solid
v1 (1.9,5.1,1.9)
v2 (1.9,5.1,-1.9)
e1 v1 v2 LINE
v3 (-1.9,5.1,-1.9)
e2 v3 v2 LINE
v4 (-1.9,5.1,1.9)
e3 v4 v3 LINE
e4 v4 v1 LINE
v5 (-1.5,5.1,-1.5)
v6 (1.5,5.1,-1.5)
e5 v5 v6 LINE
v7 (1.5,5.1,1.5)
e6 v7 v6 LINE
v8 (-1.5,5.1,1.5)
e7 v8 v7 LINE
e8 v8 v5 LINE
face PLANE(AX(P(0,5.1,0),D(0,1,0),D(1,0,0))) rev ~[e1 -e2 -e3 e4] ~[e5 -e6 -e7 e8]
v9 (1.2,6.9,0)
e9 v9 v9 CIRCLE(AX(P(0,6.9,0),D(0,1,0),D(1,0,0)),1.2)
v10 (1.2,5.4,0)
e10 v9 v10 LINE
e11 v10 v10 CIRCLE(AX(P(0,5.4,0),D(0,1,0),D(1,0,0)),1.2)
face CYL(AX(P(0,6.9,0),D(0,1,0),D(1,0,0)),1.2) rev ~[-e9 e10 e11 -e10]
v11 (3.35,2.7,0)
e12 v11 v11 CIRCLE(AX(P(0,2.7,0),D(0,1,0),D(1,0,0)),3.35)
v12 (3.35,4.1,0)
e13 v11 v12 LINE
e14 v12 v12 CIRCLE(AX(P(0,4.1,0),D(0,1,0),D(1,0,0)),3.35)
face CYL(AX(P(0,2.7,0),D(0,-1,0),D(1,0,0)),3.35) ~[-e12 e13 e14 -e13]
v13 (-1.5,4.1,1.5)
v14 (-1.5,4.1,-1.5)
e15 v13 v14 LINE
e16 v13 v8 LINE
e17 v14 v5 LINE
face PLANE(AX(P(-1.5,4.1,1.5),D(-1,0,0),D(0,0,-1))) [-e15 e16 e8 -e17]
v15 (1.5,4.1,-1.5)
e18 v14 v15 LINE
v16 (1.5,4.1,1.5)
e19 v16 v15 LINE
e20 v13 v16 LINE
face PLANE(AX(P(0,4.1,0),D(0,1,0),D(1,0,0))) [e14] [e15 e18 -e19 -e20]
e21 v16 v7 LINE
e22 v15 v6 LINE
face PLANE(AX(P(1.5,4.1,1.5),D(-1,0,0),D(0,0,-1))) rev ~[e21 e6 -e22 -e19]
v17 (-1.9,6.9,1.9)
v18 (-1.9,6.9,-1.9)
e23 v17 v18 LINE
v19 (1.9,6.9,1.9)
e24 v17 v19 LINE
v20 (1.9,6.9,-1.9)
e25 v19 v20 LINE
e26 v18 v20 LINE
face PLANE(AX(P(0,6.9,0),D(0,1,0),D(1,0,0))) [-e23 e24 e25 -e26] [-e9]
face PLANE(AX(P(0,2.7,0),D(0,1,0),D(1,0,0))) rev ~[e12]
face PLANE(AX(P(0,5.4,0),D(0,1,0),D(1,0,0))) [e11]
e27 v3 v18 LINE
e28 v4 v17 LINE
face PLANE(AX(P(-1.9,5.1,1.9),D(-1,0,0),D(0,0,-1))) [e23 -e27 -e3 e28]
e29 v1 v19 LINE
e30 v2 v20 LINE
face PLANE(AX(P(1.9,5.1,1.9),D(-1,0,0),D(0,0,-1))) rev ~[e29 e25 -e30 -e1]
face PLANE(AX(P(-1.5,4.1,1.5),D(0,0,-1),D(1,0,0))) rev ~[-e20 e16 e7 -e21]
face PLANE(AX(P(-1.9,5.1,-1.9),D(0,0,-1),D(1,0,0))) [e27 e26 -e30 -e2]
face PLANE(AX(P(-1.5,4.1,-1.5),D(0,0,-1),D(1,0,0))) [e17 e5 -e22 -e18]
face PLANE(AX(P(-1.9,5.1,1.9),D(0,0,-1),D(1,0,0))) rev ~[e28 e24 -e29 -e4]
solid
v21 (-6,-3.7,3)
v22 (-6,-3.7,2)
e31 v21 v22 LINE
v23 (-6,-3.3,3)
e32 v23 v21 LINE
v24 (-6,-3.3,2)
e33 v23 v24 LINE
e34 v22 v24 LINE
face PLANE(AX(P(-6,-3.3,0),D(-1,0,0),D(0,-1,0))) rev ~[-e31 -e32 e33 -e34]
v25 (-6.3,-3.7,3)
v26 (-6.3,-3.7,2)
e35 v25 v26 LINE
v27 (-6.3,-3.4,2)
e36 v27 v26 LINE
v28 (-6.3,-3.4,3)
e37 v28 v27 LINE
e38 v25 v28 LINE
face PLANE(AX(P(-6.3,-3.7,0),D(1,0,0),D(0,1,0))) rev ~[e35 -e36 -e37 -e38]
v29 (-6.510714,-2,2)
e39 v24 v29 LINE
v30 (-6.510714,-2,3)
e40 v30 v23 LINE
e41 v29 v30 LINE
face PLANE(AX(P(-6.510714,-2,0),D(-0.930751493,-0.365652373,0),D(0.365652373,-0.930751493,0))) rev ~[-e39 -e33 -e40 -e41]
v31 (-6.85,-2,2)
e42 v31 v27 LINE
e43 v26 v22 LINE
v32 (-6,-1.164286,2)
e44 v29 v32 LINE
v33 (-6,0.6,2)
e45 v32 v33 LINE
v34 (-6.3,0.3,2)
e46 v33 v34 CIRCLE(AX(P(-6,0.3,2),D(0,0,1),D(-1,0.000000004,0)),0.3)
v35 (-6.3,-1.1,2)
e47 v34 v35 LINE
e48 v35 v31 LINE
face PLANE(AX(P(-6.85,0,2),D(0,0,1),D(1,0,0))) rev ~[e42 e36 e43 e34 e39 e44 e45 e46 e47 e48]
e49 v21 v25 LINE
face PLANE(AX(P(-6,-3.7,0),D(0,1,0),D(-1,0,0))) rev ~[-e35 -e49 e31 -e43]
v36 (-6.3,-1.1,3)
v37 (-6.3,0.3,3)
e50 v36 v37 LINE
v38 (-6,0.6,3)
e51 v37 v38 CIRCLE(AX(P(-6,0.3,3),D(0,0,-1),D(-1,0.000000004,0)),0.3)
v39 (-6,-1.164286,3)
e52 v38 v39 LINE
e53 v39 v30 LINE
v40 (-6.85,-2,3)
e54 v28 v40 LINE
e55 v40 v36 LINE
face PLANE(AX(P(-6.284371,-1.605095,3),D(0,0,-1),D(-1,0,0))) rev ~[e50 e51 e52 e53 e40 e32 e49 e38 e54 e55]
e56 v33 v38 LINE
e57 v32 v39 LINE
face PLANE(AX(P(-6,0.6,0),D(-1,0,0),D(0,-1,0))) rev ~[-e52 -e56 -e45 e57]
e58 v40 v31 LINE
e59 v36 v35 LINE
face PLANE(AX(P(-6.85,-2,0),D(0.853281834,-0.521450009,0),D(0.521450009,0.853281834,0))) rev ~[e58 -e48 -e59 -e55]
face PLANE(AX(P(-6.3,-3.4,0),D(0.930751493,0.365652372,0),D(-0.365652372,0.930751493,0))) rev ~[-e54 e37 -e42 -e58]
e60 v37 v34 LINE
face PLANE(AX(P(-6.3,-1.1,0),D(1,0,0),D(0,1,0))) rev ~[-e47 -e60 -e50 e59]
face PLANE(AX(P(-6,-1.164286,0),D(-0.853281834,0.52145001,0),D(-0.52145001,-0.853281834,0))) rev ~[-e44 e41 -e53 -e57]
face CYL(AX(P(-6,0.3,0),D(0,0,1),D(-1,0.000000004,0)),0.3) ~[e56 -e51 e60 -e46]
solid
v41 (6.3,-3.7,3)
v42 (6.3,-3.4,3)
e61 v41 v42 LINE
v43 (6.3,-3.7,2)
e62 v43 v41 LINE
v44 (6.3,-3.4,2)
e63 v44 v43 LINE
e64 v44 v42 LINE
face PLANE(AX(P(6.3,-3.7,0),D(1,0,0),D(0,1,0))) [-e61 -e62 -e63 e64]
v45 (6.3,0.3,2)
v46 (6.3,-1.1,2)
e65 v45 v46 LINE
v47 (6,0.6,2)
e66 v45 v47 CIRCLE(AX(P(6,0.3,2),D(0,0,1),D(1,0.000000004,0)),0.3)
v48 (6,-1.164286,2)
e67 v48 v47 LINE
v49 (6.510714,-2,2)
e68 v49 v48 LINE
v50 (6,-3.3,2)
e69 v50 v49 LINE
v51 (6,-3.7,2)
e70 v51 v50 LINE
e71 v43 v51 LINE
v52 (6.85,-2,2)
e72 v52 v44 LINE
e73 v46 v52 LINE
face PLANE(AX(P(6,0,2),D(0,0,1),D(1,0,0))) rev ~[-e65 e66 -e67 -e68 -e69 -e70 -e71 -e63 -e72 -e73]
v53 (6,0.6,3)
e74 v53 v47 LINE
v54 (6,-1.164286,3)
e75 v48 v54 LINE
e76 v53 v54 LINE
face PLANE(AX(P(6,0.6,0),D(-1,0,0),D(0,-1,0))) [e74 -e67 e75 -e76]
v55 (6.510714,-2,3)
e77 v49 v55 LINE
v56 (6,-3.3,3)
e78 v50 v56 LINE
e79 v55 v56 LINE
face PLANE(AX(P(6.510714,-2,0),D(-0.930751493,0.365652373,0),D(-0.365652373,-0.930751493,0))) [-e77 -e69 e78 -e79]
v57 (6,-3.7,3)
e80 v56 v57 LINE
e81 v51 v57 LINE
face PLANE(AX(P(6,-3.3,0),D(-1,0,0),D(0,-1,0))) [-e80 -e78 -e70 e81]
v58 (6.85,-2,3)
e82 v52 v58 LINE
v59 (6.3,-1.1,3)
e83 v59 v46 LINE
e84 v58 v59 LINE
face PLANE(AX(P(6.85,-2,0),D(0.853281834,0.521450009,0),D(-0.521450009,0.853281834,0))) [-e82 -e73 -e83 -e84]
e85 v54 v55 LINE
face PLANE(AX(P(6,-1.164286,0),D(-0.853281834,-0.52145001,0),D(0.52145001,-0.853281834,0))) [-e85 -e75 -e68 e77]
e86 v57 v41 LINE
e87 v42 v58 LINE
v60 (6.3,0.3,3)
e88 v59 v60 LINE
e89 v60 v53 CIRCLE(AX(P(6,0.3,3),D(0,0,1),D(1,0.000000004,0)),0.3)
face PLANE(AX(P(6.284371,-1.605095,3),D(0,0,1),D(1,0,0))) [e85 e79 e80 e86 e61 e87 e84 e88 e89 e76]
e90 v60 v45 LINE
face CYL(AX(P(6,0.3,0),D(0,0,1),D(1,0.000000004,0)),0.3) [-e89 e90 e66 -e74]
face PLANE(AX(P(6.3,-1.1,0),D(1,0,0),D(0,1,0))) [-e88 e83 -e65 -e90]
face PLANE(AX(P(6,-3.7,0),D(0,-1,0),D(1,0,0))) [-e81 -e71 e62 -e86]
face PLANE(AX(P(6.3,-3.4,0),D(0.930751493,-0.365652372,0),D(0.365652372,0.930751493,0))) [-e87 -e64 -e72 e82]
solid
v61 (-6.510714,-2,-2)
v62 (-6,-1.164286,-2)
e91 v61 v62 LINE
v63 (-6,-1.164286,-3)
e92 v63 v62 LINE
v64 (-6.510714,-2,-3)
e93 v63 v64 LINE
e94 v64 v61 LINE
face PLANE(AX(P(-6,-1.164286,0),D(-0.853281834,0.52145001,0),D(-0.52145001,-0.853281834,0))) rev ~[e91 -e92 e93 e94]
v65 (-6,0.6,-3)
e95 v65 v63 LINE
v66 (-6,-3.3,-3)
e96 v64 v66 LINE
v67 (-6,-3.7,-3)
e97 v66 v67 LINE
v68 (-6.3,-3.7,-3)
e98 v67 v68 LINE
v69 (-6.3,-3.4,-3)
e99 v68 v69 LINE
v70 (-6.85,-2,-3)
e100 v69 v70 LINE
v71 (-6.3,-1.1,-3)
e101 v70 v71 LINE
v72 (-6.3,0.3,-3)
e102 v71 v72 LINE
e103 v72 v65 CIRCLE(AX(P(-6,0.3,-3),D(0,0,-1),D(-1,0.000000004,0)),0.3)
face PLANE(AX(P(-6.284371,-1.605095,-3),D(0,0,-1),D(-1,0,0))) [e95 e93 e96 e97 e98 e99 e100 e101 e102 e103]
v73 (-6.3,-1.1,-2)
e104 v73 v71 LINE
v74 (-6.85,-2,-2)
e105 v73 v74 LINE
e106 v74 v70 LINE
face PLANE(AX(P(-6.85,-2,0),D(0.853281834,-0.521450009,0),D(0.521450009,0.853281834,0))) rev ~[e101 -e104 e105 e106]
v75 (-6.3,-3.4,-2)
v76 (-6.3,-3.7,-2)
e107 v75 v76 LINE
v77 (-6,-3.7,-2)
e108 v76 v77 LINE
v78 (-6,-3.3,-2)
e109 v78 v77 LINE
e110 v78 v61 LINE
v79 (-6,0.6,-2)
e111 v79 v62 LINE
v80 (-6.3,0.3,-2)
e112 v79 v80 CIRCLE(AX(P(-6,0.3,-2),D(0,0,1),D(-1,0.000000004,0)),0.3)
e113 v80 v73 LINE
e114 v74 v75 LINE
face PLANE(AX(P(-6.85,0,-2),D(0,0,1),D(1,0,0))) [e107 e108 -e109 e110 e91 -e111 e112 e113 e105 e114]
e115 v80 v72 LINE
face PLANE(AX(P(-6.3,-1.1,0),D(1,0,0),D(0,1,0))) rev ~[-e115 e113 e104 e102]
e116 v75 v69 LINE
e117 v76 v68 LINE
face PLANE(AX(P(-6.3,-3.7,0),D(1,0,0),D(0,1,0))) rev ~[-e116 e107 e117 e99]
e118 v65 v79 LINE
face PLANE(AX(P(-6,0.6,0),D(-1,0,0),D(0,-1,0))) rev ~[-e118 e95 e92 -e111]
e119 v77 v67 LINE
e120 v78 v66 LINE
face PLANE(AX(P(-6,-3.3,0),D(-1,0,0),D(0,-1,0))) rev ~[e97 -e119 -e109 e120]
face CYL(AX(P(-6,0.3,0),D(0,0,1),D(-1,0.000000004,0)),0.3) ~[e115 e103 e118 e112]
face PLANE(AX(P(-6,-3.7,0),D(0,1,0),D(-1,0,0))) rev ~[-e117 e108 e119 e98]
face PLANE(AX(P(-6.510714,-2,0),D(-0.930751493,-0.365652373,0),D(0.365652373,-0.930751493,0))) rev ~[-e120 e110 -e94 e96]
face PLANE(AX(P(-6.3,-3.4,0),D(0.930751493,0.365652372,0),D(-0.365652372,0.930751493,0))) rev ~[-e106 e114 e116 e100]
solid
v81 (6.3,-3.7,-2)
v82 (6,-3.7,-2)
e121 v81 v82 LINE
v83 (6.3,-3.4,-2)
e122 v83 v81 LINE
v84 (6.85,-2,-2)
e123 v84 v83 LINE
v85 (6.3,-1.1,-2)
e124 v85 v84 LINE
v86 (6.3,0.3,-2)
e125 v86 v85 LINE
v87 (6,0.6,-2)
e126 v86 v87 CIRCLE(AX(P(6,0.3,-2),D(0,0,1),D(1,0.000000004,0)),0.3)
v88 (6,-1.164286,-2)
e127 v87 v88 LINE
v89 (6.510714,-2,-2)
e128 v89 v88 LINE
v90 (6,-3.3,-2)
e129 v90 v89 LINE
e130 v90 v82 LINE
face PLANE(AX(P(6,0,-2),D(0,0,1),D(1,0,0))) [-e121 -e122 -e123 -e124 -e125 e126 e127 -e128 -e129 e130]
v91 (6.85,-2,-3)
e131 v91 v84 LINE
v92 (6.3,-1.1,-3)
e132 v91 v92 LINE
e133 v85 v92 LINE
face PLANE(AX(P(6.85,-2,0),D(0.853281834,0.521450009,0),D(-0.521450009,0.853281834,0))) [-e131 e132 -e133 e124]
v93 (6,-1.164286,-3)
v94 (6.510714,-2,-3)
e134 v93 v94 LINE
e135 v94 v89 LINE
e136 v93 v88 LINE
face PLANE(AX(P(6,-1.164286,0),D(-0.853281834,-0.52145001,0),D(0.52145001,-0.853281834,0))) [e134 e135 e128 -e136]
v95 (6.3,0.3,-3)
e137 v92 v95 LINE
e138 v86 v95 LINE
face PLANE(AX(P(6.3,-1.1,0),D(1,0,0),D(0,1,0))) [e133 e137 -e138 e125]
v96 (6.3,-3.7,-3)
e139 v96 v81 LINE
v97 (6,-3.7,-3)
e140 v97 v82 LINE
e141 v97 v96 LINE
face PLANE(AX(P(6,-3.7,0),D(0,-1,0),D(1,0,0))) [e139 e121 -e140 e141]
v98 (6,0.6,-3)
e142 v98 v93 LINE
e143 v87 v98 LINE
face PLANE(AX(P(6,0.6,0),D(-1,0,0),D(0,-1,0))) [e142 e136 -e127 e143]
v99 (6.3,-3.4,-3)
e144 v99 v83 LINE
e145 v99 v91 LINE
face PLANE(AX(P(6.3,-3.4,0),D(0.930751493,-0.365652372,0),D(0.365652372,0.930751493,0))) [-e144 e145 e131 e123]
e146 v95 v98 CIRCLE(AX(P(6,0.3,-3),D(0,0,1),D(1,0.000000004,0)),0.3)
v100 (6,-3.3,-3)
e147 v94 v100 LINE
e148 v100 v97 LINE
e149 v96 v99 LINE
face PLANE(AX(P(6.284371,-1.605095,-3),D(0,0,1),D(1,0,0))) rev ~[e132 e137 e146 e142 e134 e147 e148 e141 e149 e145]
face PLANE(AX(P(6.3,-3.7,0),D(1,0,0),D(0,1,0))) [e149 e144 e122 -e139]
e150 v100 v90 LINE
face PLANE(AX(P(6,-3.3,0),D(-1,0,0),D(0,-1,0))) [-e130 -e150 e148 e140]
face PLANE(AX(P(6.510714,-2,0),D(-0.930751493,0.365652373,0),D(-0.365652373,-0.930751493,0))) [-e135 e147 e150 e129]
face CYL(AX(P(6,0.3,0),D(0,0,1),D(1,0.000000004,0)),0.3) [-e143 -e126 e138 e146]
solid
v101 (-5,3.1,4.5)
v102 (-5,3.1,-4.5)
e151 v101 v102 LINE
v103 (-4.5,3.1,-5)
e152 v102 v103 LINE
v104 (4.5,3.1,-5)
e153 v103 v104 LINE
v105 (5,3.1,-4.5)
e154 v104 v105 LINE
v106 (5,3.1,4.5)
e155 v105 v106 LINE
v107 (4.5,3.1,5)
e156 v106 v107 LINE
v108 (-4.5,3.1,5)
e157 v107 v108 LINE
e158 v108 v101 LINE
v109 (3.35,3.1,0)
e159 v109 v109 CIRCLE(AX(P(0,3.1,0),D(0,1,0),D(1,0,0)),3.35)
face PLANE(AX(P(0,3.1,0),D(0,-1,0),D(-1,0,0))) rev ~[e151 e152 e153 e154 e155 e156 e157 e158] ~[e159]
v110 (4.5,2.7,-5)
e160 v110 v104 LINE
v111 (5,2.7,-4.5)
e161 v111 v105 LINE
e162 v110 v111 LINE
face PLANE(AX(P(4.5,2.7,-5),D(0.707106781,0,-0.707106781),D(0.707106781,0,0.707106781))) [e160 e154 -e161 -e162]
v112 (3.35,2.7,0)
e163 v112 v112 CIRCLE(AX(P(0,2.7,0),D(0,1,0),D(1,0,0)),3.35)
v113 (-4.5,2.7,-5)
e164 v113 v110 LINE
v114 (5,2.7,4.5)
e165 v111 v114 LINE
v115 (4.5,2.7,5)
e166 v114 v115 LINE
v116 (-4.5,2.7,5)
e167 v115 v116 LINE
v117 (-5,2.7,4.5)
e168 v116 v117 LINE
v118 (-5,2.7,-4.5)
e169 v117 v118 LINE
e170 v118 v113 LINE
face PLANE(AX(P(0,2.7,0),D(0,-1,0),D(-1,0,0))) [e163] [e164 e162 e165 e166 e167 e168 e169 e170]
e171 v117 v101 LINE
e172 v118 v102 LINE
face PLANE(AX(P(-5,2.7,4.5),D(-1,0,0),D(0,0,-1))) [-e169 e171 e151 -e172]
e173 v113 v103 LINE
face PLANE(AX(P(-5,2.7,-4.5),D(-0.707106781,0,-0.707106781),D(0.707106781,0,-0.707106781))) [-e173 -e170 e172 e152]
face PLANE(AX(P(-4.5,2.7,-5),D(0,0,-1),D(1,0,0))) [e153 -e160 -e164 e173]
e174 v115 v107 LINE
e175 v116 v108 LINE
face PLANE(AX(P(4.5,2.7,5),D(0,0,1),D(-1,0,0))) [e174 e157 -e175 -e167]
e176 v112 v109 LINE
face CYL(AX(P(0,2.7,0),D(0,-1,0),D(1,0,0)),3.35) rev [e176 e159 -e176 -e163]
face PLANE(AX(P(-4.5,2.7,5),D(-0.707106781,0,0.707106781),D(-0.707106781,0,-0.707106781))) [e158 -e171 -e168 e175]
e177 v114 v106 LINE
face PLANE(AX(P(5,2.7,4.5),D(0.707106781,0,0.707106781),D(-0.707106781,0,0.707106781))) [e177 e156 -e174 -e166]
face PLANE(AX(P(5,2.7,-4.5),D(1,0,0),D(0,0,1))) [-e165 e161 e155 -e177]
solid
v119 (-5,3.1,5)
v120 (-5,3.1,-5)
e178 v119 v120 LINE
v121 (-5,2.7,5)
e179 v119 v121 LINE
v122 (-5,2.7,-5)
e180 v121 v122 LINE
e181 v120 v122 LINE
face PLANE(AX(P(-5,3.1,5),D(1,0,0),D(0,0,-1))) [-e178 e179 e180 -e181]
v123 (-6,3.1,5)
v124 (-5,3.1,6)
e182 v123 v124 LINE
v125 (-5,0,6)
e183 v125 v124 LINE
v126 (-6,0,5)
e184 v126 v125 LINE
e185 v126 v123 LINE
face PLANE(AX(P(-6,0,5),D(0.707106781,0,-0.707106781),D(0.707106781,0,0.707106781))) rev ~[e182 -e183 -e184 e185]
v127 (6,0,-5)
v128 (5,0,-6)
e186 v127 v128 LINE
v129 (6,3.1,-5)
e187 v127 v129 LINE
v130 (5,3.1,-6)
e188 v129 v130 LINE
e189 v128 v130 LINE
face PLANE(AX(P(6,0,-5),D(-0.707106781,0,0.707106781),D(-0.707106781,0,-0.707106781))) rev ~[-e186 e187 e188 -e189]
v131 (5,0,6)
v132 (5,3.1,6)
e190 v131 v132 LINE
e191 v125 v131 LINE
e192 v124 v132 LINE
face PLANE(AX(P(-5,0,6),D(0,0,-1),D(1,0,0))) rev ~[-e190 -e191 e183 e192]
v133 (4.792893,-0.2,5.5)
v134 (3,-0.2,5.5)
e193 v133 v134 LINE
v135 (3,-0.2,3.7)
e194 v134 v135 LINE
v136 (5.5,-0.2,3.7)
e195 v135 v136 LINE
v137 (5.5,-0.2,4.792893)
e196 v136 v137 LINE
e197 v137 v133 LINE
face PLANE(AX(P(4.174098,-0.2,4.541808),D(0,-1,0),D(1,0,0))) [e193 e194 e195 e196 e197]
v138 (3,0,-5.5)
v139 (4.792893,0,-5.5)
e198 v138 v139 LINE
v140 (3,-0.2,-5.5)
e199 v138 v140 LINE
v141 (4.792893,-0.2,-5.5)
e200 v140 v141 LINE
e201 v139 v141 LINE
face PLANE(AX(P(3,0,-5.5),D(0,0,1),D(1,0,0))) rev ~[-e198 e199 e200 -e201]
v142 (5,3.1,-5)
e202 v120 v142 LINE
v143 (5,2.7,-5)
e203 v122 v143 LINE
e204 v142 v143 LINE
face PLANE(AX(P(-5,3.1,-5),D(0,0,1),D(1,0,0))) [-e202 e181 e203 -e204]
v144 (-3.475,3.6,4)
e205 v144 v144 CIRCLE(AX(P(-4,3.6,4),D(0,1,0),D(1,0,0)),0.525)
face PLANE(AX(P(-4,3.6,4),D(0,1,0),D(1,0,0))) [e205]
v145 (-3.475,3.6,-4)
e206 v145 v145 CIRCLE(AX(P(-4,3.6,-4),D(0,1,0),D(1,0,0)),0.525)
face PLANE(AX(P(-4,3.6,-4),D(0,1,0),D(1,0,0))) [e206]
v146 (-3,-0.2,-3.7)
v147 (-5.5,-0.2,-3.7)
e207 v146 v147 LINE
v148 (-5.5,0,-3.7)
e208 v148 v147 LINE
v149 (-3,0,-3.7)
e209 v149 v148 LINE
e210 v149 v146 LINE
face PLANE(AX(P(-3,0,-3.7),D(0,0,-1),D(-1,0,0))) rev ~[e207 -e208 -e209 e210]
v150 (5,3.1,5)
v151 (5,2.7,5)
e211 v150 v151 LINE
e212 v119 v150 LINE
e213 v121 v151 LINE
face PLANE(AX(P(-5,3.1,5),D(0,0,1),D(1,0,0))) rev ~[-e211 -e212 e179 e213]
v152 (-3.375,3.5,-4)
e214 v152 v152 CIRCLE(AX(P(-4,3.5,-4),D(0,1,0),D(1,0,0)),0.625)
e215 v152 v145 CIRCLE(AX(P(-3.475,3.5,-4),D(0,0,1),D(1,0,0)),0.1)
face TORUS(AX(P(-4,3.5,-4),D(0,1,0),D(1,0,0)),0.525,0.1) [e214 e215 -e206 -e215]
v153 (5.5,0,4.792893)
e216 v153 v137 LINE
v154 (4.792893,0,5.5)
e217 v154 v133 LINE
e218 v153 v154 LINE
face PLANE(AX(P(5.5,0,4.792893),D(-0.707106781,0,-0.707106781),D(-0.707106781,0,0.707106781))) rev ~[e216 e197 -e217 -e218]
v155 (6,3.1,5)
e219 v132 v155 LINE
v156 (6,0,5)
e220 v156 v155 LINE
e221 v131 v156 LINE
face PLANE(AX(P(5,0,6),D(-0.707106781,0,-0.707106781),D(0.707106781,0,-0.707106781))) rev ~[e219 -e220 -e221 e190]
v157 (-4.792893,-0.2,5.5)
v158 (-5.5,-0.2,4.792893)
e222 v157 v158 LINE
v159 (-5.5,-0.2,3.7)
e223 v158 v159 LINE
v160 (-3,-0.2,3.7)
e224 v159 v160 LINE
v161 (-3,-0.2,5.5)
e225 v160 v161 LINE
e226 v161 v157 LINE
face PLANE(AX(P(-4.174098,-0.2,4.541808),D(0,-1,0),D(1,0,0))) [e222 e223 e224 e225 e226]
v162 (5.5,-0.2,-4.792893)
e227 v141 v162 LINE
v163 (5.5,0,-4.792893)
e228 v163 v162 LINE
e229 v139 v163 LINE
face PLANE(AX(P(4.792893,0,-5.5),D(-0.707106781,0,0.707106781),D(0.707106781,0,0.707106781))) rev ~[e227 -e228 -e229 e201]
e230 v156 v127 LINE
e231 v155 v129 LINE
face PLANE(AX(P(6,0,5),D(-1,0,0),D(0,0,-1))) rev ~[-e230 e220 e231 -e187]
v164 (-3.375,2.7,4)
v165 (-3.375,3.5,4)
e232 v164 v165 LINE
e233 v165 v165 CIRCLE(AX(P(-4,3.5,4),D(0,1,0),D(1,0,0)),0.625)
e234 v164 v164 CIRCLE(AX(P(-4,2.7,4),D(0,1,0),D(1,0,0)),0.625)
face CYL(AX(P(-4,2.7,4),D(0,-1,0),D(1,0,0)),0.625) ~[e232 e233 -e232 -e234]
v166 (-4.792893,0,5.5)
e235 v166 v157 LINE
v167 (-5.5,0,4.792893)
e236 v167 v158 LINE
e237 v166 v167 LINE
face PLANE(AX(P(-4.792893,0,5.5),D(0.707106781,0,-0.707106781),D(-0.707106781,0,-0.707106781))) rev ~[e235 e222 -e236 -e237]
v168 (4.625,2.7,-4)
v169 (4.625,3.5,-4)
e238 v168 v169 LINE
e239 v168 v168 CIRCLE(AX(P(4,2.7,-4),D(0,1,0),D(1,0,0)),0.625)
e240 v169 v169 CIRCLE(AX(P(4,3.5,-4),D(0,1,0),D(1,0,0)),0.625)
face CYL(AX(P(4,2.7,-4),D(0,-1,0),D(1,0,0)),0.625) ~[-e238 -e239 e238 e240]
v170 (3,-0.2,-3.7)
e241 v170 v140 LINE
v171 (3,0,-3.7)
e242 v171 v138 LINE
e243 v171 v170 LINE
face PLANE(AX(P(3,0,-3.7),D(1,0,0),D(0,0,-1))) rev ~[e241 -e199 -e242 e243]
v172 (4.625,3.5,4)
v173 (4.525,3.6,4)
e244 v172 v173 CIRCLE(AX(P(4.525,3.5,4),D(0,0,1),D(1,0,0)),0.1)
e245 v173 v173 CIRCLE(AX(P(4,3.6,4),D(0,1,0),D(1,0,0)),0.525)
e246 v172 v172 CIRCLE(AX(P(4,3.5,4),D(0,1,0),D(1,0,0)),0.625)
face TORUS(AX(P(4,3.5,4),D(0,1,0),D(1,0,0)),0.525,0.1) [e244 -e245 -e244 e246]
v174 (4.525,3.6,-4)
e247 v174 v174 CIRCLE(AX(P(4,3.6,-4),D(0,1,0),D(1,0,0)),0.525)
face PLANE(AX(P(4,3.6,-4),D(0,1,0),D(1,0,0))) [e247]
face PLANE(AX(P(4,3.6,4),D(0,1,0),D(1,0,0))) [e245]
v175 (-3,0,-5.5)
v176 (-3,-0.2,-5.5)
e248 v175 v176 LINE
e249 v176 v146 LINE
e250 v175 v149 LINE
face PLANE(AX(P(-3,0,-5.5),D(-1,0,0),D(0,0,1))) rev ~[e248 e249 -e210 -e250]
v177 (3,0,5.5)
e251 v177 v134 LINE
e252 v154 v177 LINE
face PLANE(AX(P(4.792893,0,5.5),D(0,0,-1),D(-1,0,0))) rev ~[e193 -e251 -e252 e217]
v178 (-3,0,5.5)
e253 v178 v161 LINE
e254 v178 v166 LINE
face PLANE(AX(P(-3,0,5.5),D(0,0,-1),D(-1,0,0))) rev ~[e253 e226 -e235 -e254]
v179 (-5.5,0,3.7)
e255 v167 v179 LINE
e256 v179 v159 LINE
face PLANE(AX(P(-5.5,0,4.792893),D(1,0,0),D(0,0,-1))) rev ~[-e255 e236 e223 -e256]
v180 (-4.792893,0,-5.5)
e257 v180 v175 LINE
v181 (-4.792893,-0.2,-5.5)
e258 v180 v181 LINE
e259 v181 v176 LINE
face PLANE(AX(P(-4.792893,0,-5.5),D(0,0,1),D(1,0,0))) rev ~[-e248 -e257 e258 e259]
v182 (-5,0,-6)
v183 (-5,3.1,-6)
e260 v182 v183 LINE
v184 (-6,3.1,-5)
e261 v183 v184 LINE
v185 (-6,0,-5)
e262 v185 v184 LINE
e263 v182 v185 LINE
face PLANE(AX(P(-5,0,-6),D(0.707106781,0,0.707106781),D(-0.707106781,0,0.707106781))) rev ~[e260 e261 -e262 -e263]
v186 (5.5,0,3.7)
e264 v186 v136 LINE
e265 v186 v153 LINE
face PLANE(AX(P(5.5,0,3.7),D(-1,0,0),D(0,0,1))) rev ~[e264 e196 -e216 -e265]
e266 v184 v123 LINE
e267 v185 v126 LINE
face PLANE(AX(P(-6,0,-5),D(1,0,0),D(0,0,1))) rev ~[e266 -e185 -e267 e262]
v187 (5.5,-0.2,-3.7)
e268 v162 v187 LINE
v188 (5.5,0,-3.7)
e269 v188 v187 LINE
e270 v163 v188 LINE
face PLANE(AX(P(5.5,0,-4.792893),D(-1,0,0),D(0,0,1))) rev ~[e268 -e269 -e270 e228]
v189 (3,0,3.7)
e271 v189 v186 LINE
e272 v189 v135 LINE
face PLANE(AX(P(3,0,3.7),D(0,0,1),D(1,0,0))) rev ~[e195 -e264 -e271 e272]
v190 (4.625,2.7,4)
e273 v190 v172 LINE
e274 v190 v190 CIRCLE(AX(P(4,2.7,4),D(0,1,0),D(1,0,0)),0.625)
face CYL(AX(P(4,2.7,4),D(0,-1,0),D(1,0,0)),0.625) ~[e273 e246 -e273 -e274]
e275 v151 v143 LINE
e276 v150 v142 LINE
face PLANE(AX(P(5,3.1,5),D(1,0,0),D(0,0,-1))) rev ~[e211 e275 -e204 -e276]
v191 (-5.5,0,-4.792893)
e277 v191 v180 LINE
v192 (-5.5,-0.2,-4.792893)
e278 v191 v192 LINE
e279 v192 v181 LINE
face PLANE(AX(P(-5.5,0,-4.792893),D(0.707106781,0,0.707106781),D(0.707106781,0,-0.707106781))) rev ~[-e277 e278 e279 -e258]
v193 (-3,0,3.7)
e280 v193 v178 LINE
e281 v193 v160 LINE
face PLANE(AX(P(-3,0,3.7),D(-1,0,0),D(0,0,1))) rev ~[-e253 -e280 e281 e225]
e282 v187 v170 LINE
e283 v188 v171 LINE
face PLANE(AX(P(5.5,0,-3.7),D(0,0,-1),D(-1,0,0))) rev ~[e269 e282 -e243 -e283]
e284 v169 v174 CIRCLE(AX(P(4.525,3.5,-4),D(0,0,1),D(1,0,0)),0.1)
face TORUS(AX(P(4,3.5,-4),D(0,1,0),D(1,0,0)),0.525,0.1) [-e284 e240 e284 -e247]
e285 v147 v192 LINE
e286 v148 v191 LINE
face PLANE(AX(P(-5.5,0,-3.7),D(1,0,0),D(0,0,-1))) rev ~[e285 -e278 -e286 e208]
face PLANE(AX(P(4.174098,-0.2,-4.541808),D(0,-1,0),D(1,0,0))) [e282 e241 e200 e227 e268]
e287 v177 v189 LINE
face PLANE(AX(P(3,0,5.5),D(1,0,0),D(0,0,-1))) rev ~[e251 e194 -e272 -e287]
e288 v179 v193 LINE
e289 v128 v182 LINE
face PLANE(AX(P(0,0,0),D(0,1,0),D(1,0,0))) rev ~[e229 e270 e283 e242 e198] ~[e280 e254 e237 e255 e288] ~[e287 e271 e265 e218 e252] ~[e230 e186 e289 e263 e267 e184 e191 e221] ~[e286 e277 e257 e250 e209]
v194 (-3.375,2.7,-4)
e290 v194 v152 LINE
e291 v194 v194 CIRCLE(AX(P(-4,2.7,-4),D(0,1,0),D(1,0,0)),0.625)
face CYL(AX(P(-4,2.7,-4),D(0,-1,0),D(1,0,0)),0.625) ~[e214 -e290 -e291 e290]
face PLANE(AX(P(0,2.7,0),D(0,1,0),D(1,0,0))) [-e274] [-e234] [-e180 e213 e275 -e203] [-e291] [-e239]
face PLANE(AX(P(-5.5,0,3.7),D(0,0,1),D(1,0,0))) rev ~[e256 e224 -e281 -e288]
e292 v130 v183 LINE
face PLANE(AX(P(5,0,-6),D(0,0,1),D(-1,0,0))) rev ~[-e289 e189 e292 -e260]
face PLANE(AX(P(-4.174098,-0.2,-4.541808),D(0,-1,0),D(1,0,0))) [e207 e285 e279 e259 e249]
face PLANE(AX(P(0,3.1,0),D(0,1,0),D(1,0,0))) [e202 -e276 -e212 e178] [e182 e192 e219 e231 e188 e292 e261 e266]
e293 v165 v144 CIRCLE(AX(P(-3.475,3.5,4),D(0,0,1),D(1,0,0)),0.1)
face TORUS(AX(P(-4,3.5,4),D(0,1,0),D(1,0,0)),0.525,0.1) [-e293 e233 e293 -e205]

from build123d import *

# Parameters (mm, degrees)
BOSS_EXTRUDE1_DEPTH        = 3.1
SKETCH2_W                  = 10
SKETCH2_H                  = 10
CUT_EXTRUDE1_DEPTH         = 0.4
SKETCH3_R                  = 0.625
BOSS_EXTRUDE2_DEPTH        = 0.9
FILLET1_R                  = 0.1
SKETCH4_R                  = 3.35
BOSS_EXTRUDE3_DEPTH        = 0.4
BOSS_EXTRUDE4_DEPTH        = 3
BOSS_EXTRUDE4_DEPTH_BACK   = 3
BOSS_EXTRUDE4_2_DEPTH      = 3
BOSS_EXTRUDE4_2_DEPTH_BACK = 3
SKETCH6_W                  = 0.85
SKETCH6_H                  = 4
CUT_EXTRUDE2_DEPTH         = 4.6
CUT_EXTRUDE2_DEPTH_BACK    = 4.7
SKETCH7_R                  = 3.35
BOSS_EXTRUDE5_DEPTH        = 1.4
SKETCH8_W                  = 3
SKETCH8_H                  = 3
BOSS_EXTRUDE6_DEPTH        = 1
SKETCH9_W                  = 3.8
SKETCH9_H                  = 3.8
BOSS_EXTRUDE7_DEPTH        = 1.8
SKETCH11_R                 = 1.2
CUT_EXTRUDE3_DEPTH         = 1.5
BOSS_EXTRUDE8_DEPTH        = 0.2


with BuildPart() as part:
    # Sketch1 → Boss-Extrude1 (new body)
    with BuildSketch(Plane(origin=(0, 0, 0), x_dir=(1, 0, 0), z_dir=(0, 1, 0))):
        Polygon((-5, 6), (-6, 5), (-6, -5), (-5, -6), (5, -6), (6, -5), (6, 5), (5, 6), align=None)
    extrude(amount=BOSS_EXTRUDE1_DEPTH)

    # Sketch2 → Cut-Extrude1 (cut)
    with BuildSketch(Plane(origin=(0, 3.1, 0), x_dir=(1, 0, 0), z_dir=(0, 1, 0))):
        Rectangle(SKETCH2_W, SKETCH2_H)
    extrude(amount=-CUT_EXTRUDE1_DEPTH, mode=Mode.SUBTRACT)

    # Sketch3 → Boss-Extrude2 (add)
    with BuildSketch(Plane(origin=(0, 2.7, 0), x_dir=(1, 0, 0), z_dir=(0, 1, 0))):
        with Locations((-4, 4)):
            Circle(SKETCH3_R)
        with Locations((4, 4)):
            Circle(SKETCH3_R)
        with Locations((-4, -4)):
            Circle(SKETCH3_R)
        with Locations((4, -4)):
            Circle(SKETCH3_R)
    extrude(amount=BOSS_EXTRUDE2_DEPTH)

    # Fillet1
    fillet1_edges = [part.edges().sort_by_distance(p)[0] for p in [
        (-4.625, 3.6, -4),
        (3.375, 3.6, -4),
        (-4.625, 3.6, 4),
        (3.375, 3.6, 4),
    ]]
    fillet(fillet1_edges, radius=FILLET1_R)

    # Sketch12 → Boss-Extrude8 (add)
    with BuildSketch(Plane.XZ):
        Polygon((3, 5.5), (3, 3.7), (5.5, 3.7), (5.5, 4.792893219), (4.792893219, 5.5), align=None)
        Polygon((4.792893219, -5.5), (5.5, -4.792893219), (5.5, -3.7), (3, -3.7), (3, -5.5), align=None)
        Polygon((-3, -5.5), (-3, -3.7), (-5.5, -3.7), (-5.5, -4.792893219), (-4.792893219, -5.5), align=None)
        Polygon((-4.792893219, 5.5), (-5.5, 4.792893219), (-5.5, 3.7), (-3, 3.7), (-3, 5.5), align=None)
    extrude(amount=BOSS_EXTRUDE8_DEPTH)


with BuildPart() as body_2:
    # Sketch4 → Boss-Extrude3 (new body)
    with BuildSketch(Plane(origin=(0, 2.7, 0), x_dir=(1, 0, 0), z_dir=(0, 1, 0))):
        Polygon((4.5, -5), (-4.5, -5), (-5, -4.5), (-5, 4.5), (-4.5, 5), (4.5, 5), (5, 4.5), (5, -4.5), align=None)
        Circle(SKETCH4_R, mode=Mode.SUBTRACT)
    extrude(amount=BOSS_EXTRUDE3_DEPTH)


with BuildPart() as body_3:
    # Sketch5 → Boss-Extrude4 (new body, two sides)
    with BuildSketch(Plane.XY) as boss_extrude4_sk:
        with BuildLine():
            Line((6, 0.6), (6, -1.164285714))
            Line((6, -1.164285714), (6.510714286, -2))
            Line((6.510714286, -2), (6, -3.3))
            Line((6, -3.3), (6, -3.7))
            Line((6, -3.7), (6.3, -3.7))
            Line((6.3, -3.7), (6.3, -3.4))
            Line((6.3, -3.4), (6.85, -2))
            Line((6.85, -2), (6.3, -1.1))
            Line((6.3, -1.1), (6.3, 0.3))
            ThreePointArc((6.3, 0.3), (6.212132034, 0.512132034), (6, 0.6))
        make_face()
    extrude(amount=BOSS_EXTRUDE4_DEPTH)
    extrude(boss_extrude4_sk.sketch, amount=-BOSS_EXTRUDE4_DEPTH_BACK)


with BuildPart() as body_4:
    # Sketch5 → Boss-Extrude4 2 (new body, two sides)
    with BuildSketch(Plane.XY) as boss_extrude4_2_sk:
        with BuildLine():
            Line((-6.510714286, -2), (-6, -3.3))
            Line((-6, -3.3), (-6, -3.7))
            Line((-6, -3.7), (-6.3, -3.7))
            Line((-6.3, -3.7), (-6.3, -3.4))
            Line((-6.3, -3.4), (-6.85, -2))
            Line((-6.85, -2), (-6.3, -1.1))
            Line((-6.3, -1.1), (-6.3, 0.3))
            ThreePointArc((-6.3, 0.3), (-6.212132034, 0.512132034), (-6, 0.6))
            Line((-6, 0.6), (-6, -1.164285714))
            Line((-6, -1.164285714), (-6.510714286, -2))
        make_face()
    extrude(amount=BOSS_EXTRUDE4_2_DEPTH)
    extrude(boss_extrude4_2_sk.sketch, amount=-BOSS_EXTRUDE4_2_DEPTH_BACK)


with BuildPart() as cut_extrude2_tool:
    # Sketch6 → Cut-Extrude2 (new body, two sides)
    with BuildSketch(Plane(origin=(0, 0, 0), x_dir=(1, 0, 0), z_dir=(0, 1, 0))) as cut_extrude2_sk:
        with Locations((-6.425, 0)):
            Rectangle(SKETCH6_W, SKETCH6_H)
        with Locations((6.425, 0)):
            Rectangle(SKETCH6_W, SKETCH6_H)
    extrude(amount=CUT_EXTRUDE2_DEPTH)
    extrude(cut_extrude2_sk.sketch, amount=-CUT_EXTRUDE2_DEPTH_BACK)


with BuildPart() as body_3_1:
    add(body_3.part)

    # Cut-Extrude2: cut by cut_extrude2_tool
    add(cut_extrude2_tool.part, mode=Mode.SUBTRACT)


with BuildPart() as body_4_1:
    add(body_4.part)

    # Cut-Extrude2: cut by cut_extrude2_tool
    add(cut_extrude2_tool.part, mode=Mode.SUBTRACT)


with BuildPart() as body_5:
    # Sketch7 → Boss-Extrude5 (new body)
    with BuildSketch(Plane(origin=(0, 2.7, 0), x_dir=(1, 0, 0), z_dir=(0, 1, 0))):
        Circle(SKETCH7_R)
    extrude(amount=BOSS_EXTRUDE5_DEPTH)

    # Sketch8 → Boss-Extrude6 (add)
    with BuildSketch(Plane(origin=(0, 4.1, 0), x_dir=(1, 0, 0), z_dir=(0, 1, 0))):
        Rectangle(SKETCH8_W, SKETCH8_H)
    extrude(amount=BOSS_EXTRUDE6_DEPTH)

    # Sketch9 → Boss-Extrude7 (add)
    with BuildSketch(Plane(origin=(0, 5.1, 0), x_dir=(1, 0, 0), z_dir=(0, 1, 0))):
        Rectangle(SKETCH9_W, SKETCH9_H)
    extrude(amount=BOSS_EXTRUDE7_DEPTH)

    # Sketch11 → Cut-Extrude3 (cut)
    with BuildSketch(Plane(origin=(0, 6.9, 0), x_dir=(1, 0, 0), z_dir=(0, 1, 0))):
        Circle(SKETCH11_R)
    extrude(amount=-CUT_EXTRUDE3_DEPTH, mode=Mode.SUBTRACT)


solid = Compound([part.part, body_2.part, body_3_1.part, body_4_1.part, body_5.part])
